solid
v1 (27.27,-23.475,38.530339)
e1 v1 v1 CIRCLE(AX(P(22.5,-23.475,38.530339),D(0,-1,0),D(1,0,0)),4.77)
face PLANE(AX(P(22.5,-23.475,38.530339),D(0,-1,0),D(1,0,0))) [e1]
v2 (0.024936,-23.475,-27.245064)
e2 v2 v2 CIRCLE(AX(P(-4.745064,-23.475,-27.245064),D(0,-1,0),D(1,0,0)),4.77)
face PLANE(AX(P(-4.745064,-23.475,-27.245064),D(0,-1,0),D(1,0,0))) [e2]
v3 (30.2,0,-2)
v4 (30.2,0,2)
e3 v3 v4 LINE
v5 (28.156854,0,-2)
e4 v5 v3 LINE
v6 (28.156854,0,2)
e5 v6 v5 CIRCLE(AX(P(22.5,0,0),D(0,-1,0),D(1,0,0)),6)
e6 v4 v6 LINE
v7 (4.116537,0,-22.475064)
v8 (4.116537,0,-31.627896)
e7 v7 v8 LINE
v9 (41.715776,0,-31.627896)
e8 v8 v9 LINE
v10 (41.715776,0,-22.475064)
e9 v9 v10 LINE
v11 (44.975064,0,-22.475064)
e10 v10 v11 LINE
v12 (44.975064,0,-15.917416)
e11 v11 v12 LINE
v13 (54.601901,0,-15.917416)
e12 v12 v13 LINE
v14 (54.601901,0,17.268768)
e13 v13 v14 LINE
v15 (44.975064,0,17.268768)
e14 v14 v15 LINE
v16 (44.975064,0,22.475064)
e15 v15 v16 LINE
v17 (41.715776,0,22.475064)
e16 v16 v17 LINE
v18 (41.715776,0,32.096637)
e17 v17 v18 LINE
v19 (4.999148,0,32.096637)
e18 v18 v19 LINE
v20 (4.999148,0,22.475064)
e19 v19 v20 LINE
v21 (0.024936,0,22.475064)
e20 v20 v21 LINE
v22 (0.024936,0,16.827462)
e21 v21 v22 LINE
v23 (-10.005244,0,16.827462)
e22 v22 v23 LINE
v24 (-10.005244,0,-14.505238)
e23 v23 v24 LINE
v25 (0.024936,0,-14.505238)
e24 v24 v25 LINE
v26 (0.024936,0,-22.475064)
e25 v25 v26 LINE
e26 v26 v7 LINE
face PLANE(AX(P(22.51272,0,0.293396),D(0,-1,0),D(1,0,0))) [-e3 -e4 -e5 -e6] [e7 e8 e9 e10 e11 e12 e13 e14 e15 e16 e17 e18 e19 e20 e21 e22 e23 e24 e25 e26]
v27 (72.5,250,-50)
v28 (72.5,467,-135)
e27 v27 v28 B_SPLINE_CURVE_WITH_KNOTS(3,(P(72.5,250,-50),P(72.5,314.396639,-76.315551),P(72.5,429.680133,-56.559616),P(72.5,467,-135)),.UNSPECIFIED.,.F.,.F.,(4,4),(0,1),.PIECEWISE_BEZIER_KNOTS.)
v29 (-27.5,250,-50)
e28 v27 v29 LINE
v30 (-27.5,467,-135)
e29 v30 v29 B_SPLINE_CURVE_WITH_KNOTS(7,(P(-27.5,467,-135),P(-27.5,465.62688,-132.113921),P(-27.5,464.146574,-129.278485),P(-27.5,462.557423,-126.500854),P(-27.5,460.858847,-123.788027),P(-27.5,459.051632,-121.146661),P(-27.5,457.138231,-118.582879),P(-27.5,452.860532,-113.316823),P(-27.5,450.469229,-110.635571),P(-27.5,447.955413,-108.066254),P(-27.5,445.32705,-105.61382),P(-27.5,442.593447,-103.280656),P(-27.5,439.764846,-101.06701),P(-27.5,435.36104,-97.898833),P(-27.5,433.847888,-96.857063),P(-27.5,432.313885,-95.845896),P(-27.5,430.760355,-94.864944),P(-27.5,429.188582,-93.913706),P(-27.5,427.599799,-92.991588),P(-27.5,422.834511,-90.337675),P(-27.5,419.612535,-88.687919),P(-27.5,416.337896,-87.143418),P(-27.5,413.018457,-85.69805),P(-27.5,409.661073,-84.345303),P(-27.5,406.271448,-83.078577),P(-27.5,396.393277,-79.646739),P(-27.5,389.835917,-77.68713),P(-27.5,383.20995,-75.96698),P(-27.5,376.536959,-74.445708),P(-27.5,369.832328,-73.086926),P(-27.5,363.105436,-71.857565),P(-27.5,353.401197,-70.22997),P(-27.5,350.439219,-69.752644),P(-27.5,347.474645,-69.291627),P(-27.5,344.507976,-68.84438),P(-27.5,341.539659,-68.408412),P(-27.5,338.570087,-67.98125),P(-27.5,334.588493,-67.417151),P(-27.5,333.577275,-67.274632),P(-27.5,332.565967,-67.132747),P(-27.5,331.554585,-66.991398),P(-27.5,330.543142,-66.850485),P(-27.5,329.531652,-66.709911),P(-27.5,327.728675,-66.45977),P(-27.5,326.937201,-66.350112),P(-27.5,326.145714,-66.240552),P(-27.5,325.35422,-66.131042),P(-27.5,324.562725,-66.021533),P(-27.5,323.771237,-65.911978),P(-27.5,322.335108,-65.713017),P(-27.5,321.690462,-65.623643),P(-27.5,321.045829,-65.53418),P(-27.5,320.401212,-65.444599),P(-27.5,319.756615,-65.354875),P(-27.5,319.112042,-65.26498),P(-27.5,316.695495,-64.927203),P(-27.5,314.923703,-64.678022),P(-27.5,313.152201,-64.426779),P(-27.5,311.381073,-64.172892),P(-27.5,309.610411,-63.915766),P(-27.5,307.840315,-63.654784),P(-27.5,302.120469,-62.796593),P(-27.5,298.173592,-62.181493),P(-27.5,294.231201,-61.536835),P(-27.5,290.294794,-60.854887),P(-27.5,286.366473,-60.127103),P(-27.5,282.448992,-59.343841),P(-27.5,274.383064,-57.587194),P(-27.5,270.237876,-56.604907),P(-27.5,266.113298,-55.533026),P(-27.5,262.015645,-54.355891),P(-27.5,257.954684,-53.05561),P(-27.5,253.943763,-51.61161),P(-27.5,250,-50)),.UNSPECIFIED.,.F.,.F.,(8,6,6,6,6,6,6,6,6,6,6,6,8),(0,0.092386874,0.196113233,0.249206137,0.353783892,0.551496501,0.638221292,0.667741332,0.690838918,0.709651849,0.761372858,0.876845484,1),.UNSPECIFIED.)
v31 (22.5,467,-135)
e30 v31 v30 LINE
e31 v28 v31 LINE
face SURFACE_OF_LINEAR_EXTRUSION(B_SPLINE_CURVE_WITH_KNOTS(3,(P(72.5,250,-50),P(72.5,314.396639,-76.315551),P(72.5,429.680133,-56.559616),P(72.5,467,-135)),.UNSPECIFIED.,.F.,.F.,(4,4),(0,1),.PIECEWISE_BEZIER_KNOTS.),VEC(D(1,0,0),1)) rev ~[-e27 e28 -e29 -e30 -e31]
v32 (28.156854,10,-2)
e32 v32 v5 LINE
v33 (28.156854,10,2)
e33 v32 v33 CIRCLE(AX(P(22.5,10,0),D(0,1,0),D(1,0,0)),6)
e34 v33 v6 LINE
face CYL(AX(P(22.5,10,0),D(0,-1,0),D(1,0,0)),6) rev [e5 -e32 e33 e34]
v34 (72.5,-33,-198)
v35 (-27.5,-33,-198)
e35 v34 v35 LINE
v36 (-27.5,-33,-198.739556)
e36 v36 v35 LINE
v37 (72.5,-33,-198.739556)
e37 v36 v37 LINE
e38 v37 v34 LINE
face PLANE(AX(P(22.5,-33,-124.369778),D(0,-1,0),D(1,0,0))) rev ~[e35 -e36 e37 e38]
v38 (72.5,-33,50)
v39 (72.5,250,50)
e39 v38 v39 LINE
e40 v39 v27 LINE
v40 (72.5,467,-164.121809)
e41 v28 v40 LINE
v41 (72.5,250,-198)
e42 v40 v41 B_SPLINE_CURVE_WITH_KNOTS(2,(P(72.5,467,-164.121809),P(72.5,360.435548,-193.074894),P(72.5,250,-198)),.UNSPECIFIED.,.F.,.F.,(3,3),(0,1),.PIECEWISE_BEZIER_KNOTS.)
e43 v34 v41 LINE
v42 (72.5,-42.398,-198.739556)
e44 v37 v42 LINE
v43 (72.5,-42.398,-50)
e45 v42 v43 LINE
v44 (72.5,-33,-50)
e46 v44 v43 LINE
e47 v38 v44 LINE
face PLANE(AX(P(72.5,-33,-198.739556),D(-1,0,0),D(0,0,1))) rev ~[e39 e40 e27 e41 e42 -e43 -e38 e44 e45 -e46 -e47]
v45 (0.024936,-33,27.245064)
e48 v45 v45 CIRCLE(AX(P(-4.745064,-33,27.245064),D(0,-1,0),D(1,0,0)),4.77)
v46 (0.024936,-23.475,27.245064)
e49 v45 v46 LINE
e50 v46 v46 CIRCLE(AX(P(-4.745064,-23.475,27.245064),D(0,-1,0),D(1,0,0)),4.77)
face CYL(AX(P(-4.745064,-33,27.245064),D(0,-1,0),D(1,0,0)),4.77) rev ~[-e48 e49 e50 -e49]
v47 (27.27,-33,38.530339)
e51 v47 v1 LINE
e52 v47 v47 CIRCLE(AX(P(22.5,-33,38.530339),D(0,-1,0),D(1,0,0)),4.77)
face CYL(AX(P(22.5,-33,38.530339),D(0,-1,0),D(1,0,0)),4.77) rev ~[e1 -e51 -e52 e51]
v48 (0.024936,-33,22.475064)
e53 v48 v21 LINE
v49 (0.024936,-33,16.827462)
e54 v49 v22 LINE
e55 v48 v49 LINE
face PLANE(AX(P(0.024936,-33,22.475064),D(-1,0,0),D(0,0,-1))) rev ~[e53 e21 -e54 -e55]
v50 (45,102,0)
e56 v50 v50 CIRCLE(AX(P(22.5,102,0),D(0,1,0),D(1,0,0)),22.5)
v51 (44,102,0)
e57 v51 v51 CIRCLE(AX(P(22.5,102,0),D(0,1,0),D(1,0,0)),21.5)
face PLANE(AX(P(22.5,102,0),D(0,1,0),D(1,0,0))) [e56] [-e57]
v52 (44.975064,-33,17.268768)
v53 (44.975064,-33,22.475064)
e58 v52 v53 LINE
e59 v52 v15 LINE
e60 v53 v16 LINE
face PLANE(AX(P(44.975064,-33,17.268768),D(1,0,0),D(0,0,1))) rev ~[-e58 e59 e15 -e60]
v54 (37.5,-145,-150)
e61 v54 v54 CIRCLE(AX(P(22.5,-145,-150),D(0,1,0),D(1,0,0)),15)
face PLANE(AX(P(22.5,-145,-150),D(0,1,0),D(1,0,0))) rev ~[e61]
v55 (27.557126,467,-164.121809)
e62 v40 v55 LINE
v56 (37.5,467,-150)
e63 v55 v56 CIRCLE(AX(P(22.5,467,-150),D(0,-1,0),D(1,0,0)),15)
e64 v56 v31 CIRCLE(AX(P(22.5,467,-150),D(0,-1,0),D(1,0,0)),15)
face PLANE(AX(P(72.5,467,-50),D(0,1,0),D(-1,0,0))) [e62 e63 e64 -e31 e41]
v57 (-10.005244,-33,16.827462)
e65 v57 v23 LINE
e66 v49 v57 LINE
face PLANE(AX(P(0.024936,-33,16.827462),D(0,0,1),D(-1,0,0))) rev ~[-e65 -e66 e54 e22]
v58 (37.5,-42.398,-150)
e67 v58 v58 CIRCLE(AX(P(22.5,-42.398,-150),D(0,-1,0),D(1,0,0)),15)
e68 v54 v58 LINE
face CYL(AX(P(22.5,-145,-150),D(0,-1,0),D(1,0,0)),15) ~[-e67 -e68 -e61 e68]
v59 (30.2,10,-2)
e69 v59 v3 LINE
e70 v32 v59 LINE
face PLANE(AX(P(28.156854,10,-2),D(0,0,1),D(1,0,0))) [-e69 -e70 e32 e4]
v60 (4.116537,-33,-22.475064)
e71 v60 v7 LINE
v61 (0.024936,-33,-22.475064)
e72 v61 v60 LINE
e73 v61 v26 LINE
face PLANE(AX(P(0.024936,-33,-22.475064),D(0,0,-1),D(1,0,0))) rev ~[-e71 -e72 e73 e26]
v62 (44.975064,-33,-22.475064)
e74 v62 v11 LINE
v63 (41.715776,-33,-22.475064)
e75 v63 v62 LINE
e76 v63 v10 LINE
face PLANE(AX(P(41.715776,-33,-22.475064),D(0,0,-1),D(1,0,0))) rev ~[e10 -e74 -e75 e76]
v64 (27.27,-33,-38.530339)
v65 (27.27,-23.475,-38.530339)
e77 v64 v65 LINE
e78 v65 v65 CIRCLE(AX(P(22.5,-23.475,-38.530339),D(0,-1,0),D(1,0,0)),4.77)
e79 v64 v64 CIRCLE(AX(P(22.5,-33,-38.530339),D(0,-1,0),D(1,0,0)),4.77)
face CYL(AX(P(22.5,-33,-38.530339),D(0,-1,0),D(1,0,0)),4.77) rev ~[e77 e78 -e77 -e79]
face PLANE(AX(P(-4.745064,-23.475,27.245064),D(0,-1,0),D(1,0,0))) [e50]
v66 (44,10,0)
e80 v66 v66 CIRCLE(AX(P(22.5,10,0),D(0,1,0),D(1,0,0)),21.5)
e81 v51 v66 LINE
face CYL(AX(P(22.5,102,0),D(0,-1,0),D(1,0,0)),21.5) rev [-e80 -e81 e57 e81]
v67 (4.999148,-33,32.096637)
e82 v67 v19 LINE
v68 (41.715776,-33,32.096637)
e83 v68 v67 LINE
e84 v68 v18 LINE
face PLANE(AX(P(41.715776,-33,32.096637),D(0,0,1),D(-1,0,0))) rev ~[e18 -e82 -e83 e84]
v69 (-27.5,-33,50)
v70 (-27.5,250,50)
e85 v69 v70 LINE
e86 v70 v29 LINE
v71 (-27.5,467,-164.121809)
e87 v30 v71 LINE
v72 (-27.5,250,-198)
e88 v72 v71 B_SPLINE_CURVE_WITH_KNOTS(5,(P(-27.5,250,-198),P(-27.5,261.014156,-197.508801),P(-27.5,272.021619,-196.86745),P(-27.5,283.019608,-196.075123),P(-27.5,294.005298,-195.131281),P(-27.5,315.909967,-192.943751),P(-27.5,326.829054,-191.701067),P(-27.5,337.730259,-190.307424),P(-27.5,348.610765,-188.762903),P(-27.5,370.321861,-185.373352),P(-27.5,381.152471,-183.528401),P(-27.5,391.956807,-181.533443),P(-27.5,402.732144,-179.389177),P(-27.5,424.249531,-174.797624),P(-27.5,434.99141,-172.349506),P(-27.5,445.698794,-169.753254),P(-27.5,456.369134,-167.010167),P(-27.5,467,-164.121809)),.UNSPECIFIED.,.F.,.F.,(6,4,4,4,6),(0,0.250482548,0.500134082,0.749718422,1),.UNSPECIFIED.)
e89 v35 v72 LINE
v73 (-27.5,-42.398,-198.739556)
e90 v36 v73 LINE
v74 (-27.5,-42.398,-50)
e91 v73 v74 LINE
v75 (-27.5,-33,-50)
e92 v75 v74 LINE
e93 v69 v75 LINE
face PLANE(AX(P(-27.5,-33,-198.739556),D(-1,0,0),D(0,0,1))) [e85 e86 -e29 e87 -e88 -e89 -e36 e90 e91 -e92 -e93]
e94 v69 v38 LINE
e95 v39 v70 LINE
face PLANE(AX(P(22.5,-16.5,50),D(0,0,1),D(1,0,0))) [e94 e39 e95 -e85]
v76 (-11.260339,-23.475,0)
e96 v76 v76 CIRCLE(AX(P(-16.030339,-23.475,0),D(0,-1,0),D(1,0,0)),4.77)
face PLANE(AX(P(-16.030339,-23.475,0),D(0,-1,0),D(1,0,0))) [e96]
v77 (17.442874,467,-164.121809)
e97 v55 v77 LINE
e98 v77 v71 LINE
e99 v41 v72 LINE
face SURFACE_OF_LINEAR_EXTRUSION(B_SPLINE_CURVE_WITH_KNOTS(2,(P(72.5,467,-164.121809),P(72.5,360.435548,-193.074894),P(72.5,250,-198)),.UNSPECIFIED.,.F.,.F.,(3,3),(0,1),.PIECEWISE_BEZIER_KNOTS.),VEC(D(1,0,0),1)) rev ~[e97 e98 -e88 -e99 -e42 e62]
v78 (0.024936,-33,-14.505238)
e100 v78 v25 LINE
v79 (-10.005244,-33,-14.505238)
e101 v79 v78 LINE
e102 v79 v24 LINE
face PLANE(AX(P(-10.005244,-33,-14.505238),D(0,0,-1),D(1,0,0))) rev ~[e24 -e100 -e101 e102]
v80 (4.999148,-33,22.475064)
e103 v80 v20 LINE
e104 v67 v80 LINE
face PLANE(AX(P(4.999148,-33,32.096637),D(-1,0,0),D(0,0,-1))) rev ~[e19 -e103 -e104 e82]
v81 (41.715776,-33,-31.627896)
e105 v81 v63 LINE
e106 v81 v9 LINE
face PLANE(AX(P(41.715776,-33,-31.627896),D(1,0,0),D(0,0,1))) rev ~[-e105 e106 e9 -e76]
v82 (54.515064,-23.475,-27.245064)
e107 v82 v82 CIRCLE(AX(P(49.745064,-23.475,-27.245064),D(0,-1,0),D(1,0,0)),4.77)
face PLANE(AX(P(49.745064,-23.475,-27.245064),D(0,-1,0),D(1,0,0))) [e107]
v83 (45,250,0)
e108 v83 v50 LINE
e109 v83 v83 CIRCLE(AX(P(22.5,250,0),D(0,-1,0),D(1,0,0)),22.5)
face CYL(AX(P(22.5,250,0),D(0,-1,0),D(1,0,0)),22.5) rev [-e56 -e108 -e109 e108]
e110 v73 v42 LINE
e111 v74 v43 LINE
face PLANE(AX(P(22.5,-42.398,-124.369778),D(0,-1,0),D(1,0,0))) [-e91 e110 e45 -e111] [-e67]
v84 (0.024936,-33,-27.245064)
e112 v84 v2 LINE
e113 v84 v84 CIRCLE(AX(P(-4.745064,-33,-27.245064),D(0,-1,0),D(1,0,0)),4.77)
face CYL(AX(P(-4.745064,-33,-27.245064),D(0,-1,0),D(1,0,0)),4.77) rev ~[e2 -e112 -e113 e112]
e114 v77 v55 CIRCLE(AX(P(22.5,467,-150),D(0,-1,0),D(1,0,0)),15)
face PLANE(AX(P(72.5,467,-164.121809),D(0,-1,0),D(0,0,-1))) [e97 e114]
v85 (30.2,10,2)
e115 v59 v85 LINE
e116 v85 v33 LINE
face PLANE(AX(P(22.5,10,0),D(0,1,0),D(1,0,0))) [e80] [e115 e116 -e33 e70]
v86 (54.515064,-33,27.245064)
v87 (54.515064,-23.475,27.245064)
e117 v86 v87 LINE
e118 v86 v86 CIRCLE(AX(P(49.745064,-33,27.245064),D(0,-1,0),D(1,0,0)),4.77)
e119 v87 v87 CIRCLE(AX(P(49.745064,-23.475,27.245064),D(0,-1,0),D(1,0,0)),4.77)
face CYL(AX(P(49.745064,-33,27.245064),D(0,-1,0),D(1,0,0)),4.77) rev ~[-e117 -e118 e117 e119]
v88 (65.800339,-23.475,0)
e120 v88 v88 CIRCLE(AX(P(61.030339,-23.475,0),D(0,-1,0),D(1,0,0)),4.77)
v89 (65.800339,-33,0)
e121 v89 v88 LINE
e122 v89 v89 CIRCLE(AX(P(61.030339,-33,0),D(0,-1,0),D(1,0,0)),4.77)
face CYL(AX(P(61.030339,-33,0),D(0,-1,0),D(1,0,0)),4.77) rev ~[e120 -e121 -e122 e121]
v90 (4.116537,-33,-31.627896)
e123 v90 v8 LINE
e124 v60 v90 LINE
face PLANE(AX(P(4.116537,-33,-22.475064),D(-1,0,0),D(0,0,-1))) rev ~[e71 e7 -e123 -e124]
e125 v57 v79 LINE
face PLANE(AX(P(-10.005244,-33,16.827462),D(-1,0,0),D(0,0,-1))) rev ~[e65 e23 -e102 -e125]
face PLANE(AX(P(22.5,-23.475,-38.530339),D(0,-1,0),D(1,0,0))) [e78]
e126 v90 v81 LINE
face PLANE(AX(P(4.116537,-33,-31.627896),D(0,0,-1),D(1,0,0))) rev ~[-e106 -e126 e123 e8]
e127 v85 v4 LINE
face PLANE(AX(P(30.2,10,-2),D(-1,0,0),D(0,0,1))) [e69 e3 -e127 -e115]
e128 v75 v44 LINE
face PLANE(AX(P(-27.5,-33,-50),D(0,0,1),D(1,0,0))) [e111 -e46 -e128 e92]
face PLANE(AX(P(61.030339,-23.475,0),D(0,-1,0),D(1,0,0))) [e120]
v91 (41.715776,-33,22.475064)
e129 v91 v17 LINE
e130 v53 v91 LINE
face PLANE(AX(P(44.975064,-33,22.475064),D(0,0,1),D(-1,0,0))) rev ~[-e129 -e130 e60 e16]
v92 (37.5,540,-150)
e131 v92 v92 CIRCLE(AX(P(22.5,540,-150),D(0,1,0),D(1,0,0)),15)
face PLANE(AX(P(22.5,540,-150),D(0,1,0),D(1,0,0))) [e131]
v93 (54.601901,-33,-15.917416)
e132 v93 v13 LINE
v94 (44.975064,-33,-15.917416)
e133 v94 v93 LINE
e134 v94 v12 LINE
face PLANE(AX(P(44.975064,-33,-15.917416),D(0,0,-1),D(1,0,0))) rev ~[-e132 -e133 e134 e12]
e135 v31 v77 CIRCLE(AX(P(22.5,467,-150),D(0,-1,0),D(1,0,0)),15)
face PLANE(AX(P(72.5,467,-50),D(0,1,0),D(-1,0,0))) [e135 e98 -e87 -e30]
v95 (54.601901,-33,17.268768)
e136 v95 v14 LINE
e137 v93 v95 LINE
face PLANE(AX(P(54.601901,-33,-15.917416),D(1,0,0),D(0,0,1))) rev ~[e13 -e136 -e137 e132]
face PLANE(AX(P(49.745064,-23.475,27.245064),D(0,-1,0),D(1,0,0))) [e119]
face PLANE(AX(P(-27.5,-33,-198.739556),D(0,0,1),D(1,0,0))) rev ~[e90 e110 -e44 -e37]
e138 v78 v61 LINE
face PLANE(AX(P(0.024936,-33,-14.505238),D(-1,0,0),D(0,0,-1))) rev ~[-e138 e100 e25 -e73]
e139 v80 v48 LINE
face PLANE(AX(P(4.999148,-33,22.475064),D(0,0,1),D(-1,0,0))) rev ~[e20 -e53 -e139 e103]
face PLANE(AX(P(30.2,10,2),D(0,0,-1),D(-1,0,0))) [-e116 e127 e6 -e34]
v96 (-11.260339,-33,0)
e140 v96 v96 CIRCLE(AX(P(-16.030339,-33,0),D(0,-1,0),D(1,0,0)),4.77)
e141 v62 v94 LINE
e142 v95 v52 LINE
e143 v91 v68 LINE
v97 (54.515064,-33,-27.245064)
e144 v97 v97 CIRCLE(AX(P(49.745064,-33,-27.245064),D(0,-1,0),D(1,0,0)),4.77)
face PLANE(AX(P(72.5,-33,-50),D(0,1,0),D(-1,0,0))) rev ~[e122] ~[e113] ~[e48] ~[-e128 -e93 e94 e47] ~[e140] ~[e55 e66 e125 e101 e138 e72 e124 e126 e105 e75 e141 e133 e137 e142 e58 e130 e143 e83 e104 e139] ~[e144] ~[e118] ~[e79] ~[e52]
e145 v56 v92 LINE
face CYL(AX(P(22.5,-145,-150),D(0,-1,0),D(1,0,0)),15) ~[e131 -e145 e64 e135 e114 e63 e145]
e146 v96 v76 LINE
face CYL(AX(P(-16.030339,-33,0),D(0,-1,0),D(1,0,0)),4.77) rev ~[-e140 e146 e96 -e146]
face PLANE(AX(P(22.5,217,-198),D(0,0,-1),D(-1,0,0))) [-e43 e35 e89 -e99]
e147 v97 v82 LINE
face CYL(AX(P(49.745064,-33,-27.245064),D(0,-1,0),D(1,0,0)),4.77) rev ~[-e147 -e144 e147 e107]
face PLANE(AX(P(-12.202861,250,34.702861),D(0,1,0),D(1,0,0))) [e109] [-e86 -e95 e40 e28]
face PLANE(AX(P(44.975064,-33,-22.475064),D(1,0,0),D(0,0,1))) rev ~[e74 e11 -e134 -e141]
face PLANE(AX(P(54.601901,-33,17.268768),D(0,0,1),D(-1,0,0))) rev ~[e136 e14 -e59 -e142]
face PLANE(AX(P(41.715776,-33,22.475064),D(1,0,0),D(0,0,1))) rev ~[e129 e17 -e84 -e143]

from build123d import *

# Parameters (mm, degrees)
CUT_EXTRUDE_START     = -10
CUT_EXTRUDE_1_DEPTH   = 10
EXTRUDE_START         = -250
SKETCH_3_R            = 50
SKETCH_3_R_2          = 32.5
EXTRUDE_1_DEPTH       = 250
EXTRUDE_7_DEPTH       = 250
EXTRUDE_8_DEPTH       = 50
EXTRUDE_8_DEPTH_BACK  = 50
SKETCH_5_R            = 4.77
CUT_EXTRUDE_2_DEPTH   = 9.525
CUT_EXTRUDE_5_DEPTH   = 33
SKETCH_12_W           = 100
SKETCH_12_H           = 500
EXTRUDE_10_DEPTH      = 148
EXTRUDE_12_DEPTH      = 73
EXTRUDE_12_DEPTH_BACK = 612
SKETCH_13_R           = 15
CUT_EXTRUDE_4_DEPTH   = 239
SKETCH_16_W           = 100
SKETCH_16_H           = 148.739556464
EXTRUDE_15_DEPTH      = 9.398


with BuildPart() as part:
    # 草图1 → 旋转1 (revolve)
    with BuildSketch(Plane.XY):
        Polygon((16.5, 10), (1, 10), (1, 102), (0, 102), (0, 250), (-10, 250), (-10, 0), (16.5, 0), align=None)
        Polygon((28.5, 10), (28.5, 0), (55, 0), (55, 250), (45, 250), (45, 102), (44, 102), (44, 10), align=None)
    revolve(axis=Axis((22.5, 0, 0), (0, 1, 0)))

    # 草图2 → 切除-拉伸1 (cut)
    with BuildSketch(Plane.XZ.offset(CUT_EXTRUDE_START)):
        with BuildLine():
            Line((30.2, 2), (28.156854249, 2))
            ThreePointArc((28.156854249, 2), (28.5, 0), (28.156854249, -2))
            Line((28.156854249, -2), (30.2, -2))
            Line((30.2, -2), (30.2, 2))
        make_face()
    extrude(amount=CUT_EXTRUDE_1_DEPTH, mode=Mode.SUBTRACT)

    # 草图3 → 凸台-拉伸1 (add)
    with BuildSketch(Plane(origin=(0, 250, 0), x_dir=(1, 0, 0), z_dir=(0, 1, 0)).offset(EXTRUDE_START)):
        with Locations((22.5, 0)):
            Circle(SKETCH_3_R)
        with Locations((22.5, 0)):
            Circle(SKETCH_3_R_2, mode=Mode.SUBTRACT)
    extrude(amount=EXTRUDE_1_DEPTH)

    # 草图3<5> → 凸台-拉伸7 (add)
    with BuildSketch(Plane(origin=(0, 250, 0), x_dir=(1, 0, 0), z_dir=(0, 1, 0)).offset(EXTRUDE_START)):
        with BuildLine():
            ThreePointArc((22.5, -50), (-12.855339059, -35.355339059), (-27.5, 0))
            Line((-27.5, 0), (-27.5, -50))
            Line((-27.5, -50), (22.5, -50))
        make_face()
        with BuildLine():
            Line((-27.5, 50), (-27.5, 0))
            ThreePointArc((-27.5, 0), (-12.855339059, 35.355339059), (22.5, 50))
            Line((22.5, 50), (-27.5, 50))
        make_face()
        with BuildLine():
            Line((72.5, 50), (22.5, 50))
            ThreePointArc((22.5, 50), (57.855339059, 35.355339059), (72.5, 0))
            Line((72.5, 0), (72.5, 50))
        make_face()
        with BuildLine():
            ThreePointArc((72.5, 0), (57.855339059, -35.355339059), (22.5, -50))
            Line((22.5, -50), (72.5, -50))
            Line((72.5, -50), (72.5, 0))
        make_face()
    extrude(amount=EXTRUDE_7_DEPTH)

    # 草图1<21> → 凸台-拉伸8 (add, two sides: drawn at the far end of the back side and taken through both)
    with BuildSketch(Plane.XY.offset(-EXTRUDE_8_DEPTH_BACK)):
        Polygon((16.5, 0), (0, 0), (-10, 0), (-27.5, 0), (-27.5, -33), (72.5, -33), (72.5, 0), (55, 0), (45, 0), (28.5, 0), align=None)
    extrude(amount=EXTRUDE_8_DEPTH + EXTRUDE_8_DEPTH_BACK)

    # 草图5 → 切除-拉伸2 (cut)
    with BuildSketch(Plane.XZ.offset(33)):
        with Locations((-16.030339059, 0)):
            Circle(SKETCH_5_R)
        with Locations((-4.74506403, 27.24506403)):
            Circle(SKETCH_5_R)
        with Locations((22.5, 38.530339059)):
            Circle(SKETCH_5_R)
        with Locations((49.74506403, 27.24506403)):
            Circle(SKETCH_5_R)
        with Locations((61.030339059, 0)):
            Circle(SKETCH_5_R)
        with Locations((49.74506403, -27.24506403)):
            Circle(SKETCH_5_R)
        with Locations((22.5, -38.530339059)):
            Circle(SKETCH_5_R)
        with Locations((-4.74506403, -27.24506403)):
            Circle(SKETCH_5_R)
    extrude(amount=-CUT_EXTRUDE_2_DEPTH, mode=Mode.SUBTRACT)

    # 草图7 → 切除-拉伸5 (cut)
    with BuildSketch(Plane.XZ.offset(33)):
        Polygon((44.97506403, 22.47506403), (41.715776468, 22.47506403), (41.715776468, 32.096637168), (4.999147853, 32.096637168), (4.999147853, 22.47506403), (0.02493597, 22.47506403), (0.02493597, 16.827462287), (-10.005243648, 16.827462287), (-10.005243648, -14.505237612), (0.02493597, -14.505237612), (0.02493597, -22.47506403), (4.116536589, -22.47506403), (4.116536589, -31.627896149), (41.715776468, -31.627896149), (41.715776468, -22.47506403), (44.97506403, -22.47506403), (44.97506403, -15.917415636), (54.601900934, -15.917415636), (54.601900934, 17.26876792), (44.97506403, 17.26876792), align=None)
    extrude(amount=-CUT_EXTRUDE_5_DEPTH, mode=Mode.SUBTRACT)

    # 草图12 → 凸台-拉伸10 (add)
    with BuildSketch(Plane(origin=(0, 0, -50), x_dir=(-1, 0, 0), z_dir=(0, 0, -1))):
        with Locations((-22.5, 217)):
            Rectangle(SKETCH_12_W, SKETCH_12_H)
    extrude(amount=EXTRUDE_10_DEPTH)

    # 草图13 → 凸台-拉伸12 (add, two sides: drawn at the far end of the back side and taken through both)
    with BuildSketch(Plane(origin=(0, 467, 0), x_dir=(1, 0, 0), z_dir=(0, 1, 0)).offset(-EXTRUDE_12_DEPTH_BACK)):
        with Locations((22.5, 150)):
            Circle(SKETCH_13_R)
    extrude(amount=EXTRUDE_12_DEPTH + EXTRUDE_12_DEPTH_BACK)

    # 草图14 → 切除-拉伸4 (cut)
    with BuildSketch(Plane(origin=(72.5, 0, 0), x_dir=(0, 0, -1), z_dir=(1, 0, 0))):
        with BuildLine():
            Line((50, 250), (50, 467))
            Line((50, 467), (135, 467))
            add(Edge.make_bspline(
                [(50, 250), (76.315551246, 314.396639374), (56.559615793, 429.68013341), (135, 467)],
                knots=[0, 0, 0, 0, 1, 1, 1, 1], degree=3))
        make_face()
        with BuildLine():
            Line((164.121808583, 467), (198, 467))
            Line((198, 467), (198, 250))
            add(Edge.make_bspline(
                [(164.121808583, 467), (193.074894333, 360.435548365), (198, 250)],
                knots=[0, 0, 0, 1, 1, 1], degree=2))
        make_face()
    extrude(amount=-CUT_EXTRUDE_4_DEPTH, mode=Mode.SUBTRACT)

    # 草图16 → 凸台-拉伸15 (add)
    with BuildSketch(Plane.XZ.offset(33)):
        with Locations((22.5, -124.369778232)):
            Rectangle(SKETCH_16_W, SKETCH_16_H)
    extrude(amount=EXTRUDE_15_DEPTH)


solid = part.part
